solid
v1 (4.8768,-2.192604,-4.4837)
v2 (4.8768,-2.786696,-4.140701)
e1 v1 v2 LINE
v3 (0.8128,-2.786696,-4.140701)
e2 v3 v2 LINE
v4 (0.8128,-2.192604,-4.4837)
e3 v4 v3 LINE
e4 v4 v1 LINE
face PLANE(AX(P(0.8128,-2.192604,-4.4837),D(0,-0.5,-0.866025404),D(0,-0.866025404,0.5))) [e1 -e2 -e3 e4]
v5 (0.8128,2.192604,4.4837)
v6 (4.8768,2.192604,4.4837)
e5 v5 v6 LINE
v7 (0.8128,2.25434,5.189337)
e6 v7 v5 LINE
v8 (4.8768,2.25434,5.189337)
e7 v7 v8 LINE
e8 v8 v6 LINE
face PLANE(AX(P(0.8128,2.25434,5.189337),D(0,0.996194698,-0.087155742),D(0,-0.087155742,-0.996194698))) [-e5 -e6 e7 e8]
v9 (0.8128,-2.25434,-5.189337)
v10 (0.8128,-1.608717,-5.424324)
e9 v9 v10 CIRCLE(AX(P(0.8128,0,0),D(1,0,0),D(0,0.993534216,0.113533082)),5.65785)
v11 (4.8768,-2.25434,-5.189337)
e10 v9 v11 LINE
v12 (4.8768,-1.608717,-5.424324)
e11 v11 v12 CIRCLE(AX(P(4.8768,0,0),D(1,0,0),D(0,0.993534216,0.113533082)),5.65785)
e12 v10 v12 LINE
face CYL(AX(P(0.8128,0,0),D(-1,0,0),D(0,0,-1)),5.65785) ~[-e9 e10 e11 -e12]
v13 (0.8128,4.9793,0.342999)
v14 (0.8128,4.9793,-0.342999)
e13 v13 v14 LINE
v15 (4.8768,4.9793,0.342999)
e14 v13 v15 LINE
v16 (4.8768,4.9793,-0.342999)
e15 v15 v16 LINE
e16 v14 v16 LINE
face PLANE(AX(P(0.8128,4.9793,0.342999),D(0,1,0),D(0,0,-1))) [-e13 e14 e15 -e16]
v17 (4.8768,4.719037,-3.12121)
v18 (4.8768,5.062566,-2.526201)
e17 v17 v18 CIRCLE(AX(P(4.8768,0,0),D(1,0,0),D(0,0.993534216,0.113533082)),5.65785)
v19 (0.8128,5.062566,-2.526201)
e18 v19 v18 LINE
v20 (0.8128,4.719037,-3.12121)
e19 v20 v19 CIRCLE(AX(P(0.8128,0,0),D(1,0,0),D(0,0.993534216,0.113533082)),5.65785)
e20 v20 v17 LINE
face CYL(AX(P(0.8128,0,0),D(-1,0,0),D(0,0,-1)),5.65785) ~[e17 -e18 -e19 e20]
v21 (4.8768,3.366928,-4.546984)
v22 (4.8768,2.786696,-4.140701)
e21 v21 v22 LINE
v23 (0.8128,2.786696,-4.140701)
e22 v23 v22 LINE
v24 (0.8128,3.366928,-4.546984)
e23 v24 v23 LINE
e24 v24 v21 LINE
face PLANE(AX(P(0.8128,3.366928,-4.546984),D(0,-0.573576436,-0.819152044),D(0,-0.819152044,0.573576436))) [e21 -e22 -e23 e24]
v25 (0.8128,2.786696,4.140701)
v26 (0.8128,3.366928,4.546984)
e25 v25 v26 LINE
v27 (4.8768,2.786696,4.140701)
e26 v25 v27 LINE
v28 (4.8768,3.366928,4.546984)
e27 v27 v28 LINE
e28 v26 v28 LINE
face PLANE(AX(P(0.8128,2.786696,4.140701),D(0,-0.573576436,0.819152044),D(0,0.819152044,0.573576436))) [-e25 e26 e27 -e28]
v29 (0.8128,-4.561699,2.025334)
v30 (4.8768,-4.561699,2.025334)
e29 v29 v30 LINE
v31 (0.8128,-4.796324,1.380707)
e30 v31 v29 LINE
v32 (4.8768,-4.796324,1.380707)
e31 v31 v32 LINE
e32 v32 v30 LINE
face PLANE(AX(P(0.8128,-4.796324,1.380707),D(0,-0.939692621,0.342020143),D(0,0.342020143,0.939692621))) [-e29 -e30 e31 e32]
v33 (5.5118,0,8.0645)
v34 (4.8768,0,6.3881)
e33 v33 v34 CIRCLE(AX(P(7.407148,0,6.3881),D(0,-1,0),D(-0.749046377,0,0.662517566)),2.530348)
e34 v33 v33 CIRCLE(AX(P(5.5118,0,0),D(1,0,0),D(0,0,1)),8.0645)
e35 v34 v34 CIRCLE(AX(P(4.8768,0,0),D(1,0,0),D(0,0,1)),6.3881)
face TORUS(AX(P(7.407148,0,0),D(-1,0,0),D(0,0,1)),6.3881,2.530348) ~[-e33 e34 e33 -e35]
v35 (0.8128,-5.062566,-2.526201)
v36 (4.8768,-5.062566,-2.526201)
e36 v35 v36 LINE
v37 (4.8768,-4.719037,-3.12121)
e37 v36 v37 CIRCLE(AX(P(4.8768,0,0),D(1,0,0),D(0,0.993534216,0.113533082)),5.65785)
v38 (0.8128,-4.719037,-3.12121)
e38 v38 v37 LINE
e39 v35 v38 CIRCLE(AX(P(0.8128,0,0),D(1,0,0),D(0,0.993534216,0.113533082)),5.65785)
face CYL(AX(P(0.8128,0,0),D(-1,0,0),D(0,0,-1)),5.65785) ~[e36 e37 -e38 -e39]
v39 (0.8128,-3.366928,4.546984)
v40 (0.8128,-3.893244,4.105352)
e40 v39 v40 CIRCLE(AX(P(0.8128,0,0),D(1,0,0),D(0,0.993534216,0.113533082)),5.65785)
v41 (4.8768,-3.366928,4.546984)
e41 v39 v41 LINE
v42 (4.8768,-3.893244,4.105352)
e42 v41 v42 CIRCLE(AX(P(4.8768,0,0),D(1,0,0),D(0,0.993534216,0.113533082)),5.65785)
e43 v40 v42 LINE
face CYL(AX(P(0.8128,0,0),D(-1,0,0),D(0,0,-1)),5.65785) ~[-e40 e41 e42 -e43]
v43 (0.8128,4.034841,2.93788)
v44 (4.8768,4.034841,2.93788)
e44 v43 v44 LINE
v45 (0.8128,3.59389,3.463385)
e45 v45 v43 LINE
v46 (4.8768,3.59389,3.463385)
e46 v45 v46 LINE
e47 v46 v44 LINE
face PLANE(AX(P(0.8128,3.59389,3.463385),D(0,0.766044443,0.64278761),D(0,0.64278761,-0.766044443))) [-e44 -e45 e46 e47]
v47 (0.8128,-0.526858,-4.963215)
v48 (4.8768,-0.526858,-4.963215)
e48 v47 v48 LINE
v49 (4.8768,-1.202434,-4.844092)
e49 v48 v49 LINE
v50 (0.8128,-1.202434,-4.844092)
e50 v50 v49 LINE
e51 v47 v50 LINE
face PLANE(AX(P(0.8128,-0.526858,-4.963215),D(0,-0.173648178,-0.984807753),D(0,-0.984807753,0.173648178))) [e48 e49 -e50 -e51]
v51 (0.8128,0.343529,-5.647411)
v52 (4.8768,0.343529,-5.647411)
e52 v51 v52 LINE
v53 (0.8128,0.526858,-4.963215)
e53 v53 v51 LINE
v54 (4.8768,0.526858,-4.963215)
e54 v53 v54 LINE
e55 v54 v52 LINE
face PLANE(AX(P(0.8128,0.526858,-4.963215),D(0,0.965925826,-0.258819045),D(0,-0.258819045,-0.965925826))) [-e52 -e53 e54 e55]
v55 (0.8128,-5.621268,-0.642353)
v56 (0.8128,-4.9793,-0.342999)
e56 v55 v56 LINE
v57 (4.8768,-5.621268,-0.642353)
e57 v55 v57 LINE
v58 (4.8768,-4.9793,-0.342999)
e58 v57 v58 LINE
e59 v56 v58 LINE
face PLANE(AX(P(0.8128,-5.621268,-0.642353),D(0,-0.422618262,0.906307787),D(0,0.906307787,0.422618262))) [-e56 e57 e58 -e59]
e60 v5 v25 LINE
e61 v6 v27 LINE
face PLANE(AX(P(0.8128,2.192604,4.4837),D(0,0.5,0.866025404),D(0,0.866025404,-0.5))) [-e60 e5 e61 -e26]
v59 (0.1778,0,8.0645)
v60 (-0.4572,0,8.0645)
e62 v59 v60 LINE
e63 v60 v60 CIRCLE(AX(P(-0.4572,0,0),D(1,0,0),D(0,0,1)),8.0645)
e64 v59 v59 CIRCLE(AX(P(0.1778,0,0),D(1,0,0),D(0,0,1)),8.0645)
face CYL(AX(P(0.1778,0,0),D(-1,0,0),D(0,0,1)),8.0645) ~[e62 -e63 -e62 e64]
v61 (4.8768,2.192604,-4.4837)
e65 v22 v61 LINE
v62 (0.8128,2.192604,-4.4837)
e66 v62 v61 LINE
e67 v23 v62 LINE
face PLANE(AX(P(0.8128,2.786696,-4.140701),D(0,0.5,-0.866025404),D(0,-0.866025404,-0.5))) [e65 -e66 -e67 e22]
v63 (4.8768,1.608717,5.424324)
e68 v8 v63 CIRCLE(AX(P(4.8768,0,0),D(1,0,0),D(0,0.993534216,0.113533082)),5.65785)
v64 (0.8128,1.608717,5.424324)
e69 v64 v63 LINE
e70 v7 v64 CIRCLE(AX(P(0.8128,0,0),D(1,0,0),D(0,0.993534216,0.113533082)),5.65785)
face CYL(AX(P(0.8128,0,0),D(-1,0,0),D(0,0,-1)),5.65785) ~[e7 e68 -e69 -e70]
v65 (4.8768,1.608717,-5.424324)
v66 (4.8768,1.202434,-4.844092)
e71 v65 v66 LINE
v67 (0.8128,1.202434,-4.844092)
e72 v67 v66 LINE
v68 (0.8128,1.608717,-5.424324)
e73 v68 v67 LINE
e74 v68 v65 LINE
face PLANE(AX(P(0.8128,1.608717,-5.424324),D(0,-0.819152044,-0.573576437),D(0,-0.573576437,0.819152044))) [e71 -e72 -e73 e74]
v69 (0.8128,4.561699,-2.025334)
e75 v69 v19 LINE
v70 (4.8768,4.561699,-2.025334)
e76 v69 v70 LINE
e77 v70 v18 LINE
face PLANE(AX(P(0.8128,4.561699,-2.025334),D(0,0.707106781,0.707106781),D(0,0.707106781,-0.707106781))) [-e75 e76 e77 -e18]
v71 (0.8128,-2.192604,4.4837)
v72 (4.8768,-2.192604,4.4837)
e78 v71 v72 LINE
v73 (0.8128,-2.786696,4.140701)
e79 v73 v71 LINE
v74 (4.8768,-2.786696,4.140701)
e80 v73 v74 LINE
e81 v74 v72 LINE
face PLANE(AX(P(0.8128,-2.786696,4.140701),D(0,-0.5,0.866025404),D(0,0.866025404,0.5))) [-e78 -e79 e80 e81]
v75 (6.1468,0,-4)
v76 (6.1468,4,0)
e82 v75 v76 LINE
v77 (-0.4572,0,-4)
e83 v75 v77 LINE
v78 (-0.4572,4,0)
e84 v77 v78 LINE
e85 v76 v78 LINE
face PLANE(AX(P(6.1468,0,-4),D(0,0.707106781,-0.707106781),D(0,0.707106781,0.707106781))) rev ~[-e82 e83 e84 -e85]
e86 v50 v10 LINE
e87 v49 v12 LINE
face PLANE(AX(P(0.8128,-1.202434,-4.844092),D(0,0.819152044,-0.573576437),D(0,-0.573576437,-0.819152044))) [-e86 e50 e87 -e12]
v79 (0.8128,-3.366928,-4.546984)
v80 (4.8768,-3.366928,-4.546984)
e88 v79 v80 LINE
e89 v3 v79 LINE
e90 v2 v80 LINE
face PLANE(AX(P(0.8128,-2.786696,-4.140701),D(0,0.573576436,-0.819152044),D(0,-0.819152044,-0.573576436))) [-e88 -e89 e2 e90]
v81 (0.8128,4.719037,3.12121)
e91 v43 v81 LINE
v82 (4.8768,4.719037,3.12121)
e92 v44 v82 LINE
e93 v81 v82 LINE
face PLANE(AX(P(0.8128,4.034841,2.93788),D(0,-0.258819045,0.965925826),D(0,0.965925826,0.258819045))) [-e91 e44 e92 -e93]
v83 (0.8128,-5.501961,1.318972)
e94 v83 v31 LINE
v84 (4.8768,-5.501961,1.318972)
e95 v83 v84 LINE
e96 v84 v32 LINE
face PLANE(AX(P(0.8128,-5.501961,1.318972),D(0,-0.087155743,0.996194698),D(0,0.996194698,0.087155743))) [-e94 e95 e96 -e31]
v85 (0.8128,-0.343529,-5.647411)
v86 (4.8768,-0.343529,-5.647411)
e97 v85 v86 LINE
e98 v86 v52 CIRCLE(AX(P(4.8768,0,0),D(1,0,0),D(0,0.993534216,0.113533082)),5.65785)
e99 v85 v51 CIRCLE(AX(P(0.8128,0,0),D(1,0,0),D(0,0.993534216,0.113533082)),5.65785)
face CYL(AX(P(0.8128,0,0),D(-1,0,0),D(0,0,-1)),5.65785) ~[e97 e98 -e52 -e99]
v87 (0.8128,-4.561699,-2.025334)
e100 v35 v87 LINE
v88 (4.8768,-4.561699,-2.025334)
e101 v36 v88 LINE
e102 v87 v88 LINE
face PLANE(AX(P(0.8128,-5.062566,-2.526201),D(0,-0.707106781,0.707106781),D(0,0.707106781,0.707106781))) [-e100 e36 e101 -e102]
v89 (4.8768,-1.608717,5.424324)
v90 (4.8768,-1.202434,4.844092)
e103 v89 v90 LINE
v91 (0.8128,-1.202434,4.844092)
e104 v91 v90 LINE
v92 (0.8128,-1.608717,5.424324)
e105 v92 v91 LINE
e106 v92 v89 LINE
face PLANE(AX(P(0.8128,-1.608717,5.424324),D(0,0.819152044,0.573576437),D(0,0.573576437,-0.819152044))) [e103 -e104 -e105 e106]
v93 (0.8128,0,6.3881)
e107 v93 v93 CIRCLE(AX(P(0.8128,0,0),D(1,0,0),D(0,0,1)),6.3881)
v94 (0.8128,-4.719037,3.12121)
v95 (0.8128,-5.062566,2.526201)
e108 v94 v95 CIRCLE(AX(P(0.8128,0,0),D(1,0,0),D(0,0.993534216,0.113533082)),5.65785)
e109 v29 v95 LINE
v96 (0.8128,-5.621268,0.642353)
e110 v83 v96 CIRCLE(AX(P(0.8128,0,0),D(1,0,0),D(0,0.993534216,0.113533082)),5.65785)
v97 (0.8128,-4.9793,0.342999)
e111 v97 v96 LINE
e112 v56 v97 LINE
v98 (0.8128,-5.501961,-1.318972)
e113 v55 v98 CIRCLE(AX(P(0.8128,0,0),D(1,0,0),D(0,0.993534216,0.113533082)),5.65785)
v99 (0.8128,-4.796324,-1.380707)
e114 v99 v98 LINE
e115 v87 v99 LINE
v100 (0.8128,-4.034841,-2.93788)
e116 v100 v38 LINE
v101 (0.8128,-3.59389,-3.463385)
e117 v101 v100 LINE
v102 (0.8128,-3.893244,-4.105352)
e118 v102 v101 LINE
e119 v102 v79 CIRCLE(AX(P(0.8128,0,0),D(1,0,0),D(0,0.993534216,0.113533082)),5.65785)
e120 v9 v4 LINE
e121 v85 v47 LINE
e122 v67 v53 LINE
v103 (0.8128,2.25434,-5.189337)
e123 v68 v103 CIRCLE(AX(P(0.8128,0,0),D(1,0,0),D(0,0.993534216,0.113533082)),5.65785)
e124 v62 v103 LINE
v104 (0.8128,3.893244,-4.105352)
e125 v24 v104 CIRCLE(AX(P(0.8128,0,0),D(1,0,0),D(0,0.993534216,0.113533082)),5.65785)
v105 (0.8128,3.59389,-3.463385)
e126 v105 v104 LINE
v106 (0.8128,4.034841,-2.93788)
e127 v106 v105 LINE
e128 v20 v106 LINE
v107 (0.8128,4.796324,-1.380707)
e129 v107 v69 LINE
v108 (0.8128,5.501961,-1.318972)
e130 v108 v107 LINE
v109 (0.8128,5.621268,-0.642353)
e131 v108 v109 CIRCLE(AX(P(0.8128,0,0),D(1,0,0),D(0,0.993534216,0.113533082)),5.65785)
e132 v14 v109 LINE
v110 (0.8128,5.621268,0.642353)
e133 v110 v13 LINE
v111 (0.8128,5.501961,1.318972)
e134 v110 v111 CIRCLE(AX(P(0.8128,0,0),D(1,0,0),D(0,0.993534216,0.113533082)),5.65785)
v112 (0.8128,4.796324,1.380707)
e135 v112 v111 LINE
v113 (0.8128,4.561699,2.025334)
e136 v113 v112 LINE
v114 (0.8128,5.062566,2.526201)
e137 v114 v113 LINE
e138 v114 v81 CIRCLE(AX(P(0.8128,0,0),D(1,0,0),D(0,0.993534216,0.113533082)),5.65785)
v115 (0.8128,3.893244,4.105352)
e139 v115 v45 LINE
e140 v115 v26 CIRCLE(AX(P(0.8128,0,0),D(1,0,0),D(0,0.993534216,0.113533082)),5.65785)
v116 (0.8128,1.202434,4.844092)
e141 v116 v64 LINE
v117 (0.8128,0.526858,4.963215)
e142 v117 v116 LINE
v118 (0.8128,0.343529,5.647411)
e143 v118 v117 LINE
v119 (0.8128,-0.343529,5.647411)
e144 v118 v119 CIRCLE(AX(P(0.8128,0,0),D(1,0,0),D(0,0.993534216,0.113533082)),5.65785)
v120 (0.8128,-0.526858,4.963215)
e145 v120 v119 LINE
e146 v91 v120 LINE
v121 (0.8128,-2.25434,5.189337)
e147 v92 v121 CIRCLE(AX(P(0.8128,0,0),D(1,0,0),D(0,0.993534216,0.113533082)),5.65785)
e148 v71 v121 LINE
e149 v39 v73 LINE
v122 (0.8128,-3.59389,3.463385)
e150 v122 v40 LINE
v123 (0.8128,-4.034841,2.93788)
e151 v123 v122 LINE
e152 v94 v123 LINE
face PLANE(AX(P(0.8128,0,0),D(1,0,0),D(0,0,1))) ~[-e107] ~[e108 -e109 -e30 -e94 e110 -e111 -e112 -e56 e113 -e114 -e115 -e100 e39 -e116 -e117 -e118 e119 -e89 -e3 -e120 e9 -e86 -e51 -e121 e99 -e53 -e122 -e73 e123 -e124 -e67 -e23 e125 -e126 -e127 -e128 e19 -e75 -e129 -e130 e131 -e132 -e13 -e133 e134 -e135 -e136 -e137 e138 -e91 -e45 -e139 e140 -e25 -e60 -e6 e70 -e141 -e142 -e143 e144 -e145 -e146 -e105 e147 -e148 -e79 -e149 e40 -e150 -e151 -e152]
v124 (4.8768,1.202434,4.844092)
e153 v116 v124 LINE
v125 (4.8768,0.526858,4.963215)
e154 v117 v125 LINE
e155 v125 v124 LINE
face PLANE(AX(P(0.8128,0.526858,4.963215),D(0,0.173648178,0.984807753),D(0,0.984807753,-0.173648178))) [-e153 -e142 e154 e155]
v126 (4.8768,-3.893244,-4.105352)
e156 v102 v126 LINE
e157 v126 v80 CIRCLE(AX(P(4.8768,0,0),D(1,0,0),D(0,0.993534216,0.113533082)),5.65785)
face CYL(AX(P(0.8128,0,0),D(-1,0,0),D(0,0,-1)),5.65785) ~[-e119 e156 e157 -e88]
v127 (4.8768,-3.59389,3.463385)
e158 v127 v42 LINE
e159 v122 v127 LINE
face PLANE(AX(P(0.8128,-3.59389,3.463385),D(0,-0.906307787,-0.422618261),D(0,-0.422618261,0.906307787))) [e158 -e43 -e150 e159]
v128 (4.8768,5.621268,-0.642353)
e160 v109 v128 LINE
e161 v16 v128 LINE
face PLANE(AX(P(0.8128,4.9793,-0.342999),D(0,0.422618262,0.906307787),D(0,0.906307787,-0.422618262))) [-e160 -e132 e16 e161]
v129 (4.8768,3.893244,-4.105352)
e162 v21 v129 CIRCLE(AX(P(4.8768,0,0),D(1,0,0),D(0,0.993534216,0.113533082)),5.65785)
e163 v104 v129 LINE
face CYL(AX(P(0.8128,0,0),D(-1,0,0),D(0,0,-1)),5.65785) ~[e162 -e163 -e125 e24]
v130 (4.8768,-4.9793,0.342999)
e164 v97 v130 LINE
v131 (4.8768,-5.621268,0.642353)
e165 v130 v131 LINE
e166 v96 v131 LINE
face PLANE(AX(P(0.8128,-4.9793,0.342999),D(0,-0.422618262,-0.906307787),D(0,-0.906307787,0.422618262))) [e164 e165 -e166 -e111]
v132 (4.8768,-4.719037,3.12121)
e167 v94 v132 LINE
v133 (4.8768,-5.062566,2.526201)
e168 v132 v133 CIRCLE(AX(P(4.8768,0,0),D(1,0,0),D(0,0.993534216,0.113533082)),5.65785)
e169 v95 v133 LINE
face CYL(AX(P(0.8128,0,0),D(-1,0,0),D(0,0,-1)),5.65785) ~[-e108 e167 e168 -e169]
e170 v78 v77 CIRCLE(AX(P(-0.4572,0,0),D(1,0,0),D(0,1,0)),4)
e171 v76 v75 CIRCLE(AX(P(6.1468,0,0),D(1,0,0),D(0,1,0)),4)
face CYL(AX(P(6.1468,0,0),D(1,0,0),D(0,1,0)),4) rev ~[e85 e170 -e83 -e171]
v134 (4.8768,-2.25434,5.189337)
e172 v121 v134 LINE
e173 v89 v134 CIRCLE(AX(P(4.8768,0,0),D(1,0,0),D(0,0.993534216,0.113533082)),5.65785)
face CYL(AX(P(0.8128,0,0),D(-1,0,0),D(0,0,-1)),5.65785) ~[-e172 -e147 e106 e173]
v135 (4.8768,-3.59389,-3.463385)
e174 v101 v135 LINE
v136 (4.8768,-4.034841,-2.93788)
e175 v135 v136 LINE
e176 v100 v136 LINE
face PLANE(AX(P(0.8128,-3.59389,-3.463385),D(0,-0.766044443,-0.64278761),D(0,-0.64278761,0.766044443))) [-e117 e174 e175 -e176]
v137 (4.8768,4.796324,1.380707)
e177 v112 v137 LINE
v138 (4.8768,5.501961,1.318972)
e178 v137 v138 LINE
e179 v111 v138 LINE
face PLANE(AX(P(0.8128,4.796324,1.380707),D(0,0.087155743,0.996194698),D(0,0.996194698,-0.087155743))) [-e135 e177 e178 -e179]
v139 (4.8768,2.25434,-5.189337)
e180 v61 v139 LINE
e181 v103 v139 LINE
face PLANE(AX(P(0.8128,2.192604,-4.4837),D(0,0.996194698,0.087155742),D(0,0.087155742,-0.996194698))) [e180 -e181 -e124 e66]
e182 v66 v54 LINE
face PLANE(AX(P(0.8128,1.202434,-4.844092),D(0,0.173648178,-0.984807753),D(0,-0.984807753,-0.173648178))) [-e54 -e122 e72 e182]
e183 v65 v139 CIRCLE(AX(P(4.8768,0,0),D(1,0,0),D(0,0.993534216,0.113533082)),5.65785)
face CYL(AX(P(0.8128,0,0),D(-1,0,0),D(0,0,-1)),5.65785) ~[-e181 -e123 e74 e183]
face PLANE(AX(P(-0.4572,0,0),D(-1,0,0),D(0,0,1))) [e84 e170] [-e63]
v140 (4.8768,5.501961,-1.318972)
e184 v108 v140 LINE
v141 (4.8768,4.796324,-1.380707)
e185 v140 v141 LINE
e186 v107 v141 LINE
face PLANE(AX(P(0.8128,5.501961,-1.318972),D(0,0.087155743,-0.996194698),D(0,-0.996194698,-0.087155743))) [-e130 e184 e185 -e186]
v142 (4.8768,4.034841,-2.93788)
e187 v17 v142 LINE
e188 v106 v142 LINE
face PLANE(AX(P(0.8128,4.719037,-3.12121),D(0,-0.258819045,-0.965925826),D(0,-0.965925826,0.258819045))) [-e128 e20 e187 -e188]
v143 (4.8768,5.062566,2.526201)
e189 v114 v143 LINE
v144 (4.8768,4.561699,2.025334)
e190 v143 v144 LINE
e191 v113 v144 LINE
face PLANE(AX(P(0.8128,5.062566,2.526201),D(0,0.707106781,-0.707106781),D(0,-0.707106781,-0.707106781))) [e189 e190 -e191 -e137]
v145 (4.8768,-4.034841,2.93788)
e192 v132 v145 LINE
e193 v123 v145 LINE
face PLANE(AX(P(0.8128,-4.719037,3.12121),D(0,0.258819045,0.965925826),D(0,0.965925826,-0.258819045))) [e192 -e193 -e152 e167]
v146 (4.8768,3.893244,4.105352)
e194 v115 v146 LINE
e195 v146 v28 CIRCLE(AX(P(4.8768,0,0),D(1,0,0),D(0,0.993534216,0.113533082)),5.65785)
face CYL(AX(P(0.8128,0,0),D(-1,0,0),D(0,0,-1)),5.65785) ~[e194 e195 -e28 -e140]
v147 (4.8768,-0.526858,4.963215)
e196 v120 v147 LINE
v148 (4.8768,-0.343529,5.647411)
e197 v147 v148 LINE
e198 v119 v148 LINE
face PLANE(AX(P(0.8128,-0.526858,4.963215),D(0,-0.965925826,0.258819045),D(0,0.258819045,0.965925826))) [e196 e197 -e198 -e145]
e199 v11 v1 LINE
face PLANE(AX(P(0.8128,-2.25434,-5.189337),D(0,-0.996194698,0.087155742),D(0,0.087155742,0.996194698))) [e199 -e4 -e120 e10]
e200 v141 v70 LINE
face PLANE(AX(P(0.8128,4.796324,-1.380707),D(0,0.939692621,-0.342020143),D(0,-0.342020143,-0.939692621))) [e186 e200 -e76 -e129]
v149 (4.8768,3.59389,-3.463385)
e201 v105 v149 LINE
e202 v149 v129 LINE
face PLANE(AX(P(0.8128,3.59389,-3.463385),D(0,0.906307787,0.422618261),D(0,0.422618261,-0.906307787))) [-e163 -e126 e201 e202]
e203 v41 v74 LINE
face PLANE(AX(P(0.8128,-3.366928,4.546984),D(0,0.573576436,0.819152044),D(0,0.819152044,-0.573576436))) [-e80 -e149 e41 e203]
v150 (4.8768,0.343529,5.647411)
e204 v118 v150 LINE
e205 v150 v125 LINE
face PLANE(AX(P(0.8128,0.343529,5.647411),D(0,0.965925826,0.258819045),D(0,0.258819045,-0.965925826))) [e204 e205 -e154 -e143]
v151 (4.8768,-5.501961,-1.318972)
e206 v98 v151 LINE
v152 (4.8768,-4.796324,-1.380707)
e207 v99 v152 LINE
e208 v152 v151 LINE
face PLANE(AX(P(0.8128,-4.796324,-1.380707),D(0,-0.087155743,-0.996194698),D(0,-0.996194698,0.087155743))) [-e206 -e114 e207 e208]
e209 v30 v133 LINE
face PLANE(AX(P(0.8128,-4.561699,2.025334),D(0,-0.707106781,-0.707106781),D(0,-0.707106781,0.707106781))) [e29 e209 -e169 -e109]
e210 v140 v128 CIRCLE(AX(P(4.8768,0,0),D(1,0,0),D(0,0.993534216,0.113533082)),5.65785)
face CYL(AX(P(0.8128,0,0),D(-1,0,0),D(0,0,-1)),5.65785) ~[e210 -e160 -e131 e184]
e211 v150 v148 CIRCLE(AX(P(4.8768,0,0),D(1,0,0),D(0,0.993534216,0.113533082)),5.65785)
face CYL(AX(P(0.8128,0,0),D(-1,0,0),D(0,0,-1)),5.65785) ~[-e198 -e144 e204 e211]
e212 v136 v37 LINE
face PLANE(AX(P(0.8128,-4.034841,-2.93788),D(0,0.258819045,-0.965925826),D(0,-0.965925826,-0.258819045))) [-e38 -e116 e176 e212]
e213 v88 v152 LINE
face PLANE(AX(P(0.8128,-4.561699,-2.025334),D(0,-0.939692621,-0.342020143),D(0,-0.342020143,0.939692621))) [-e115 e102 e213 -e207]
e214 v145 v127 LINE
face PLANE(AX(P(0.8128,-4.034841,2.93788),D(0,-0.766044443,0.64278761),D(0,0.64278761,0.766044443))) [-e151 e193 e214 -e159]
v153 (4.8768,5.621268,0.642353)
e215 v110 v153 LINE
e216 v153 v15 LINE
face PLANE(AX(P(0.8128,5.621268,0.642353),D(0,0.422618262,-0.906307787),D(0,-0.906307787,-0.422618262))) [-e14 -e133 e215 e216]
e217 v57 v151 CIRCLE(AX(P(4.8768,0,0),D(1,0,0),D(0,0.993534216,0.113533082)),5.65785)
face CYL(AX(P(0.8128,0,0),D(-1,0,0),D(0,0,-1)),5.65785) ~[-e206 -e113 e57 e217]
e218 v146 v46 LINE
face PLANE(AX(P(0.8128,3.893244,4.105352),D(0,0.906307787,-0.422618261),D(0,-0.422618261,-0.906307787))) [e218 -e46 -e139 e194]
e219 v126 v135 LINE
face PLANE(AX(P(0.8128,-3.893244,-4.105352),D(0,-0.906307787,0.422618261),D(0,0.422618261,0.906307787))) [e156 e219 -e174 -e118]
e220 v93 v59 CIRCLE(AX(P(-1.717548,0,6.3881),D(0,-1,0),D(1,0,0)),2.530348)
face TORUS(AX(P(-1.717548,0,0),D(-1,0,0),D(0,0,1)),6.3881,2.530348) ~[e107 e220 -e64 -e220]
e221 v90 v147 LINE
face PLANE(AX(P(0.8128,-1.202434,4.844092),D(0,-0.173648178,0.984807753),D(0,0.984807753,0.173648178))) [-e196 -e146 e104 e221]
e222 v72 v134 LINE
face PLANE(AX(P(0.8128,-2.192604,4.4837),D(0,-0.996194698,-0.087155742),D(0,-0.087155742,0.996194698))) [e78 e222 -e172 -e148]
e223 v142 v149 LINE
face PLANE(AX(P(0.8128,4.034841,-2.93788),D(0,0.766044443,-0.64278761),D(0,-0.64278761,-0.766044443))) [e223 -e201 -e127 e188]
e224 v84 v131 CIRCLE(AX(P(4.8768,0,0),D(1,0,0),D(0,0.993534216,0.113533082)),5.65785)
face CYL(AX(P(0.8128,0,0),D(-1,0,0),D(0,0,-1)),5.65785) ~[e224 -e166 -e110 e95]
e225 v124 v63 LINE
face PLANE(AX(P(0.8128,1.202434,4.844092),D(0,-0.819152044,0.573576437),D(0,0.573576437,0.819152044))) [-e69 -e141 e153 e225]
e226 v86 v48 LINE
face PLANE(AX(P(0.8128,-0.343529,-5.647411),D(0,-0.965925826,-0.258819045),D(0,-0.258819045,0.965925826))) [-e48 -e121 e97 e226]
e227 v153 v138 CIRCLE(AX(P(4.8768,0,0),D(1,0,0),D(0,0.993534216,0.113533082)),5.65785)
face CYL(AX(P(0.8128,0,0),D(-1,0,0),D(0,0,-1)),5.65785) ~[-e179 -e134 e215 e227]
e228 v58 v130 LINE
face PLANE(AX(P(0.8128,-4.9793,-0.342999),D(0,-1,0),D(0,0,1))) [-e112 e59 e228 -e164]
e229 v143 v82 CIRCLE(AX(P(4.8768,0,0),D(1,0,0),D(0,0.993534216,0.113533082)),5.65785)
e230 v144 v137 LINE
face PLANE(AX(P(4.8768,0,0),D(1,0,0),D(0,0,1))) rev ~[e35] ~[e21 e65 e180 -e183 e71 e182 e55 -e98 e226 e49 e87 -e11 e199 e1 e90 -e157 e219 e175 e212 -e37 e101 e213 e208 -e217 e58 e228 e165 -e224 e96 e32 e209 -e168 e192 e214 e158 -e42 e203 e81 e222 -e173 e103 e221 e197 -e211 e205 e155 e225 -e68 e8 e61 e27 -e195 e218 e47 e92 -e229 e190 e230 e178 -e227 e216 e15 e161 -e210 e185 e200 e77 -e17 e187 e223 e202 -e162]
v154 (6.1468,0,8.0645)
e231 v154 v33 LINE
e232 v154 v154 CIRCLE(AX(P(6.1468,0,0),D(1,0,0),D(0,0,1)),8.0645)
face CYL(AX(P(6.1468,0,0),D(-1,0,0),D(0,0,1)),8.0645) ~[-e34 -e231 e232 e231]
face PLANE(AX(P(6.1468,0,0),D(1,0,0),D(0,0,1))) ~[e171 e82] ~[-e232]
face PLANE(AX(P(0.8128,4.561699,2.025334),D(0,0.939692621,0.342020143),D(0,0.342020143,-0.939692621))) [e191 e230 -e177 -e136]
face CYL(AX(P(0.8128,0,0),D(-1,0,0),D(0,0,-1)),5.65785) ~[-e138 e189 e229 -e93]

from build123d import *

# Parameters (mm, degrees)
SKETCH4_R          = 5.8166
SKETCH4_R_2        = 5.65785
CUT_EXTRUDE2_DEPTH = 4.064
CUT_EXTRUDE1_DEPTH = 4.064
CIRPATTERN1_COUNT  = 18
SKETCH6_R          = 1.4605
CUT_EXTRUDE3_DEPTH = 13.95590486
CIRPATTERN2_COUNT  = 2
CIRPATTERN2_ANGLE  = 90
CUT_EXTRUDE5_REACH = 15.179
SKETCH9_R          = 8.0645
CUT_EXTRUDE6_REACH = 15.179
SKETCH10_R         = 2.38125


with BuildPart() as part:
    # Sketch1 → Revolve1 (revolve)
    with BuildSketch(Plane.XY, mode=Mode.PRIVATE) as revolve1_sk:
        with BuildLine():
            Line((-6.1468, 2.38125), (6.1468, 2.38125))
            Line((6.1468, 2.38125), (6.1468, 8.0645))
            Line((6.1468, 8.0645), (5.5118, 8.0645))
            ThreePointArc((5.5118, 8.0645), (5.040869168, 7.284417739), (4.8768, 6.3881))
            Line((4.8768, 6.3881), (4.8768, 5.8166))
            Line((4.8768, 5.8166), (0.8128, 5.8166))
            Line((0.8128, 5.8166), (0.8128, 6.3881))
            ThreePointArc((0.8128, 6.3881), (0.648730832, 7.284417739), (0.1778, 8.0645))
            Line((0.1778, 8.0645), (-0.4572, 8.0645))
            Line((-0.4572, 8.0645), (-0.4572, 3.9624))
            Line((-0.4572, 3.9624), (-6.1468, 3.9624))
            Line((-6.1468, 3.9624), (-6.1468, 2.38125))
        make_face()
    revolve(revolve1_sk.sketch.rotate(Axis((-6.1468, 0, 0), (1, 0, 0)), 90), axis=Axis((-6.1468, 0, 0), (1, 0, 0)))

    # Sketch4 → Cut-Extrude2 (cut)
    with BuildSketch(Plane(origin=(0.8128, 0, 0), x_dir=(0, 0, -1), z_dir=(1, 0, 0))):
        Circle(SKETCH4_R)
        Circle(SKETCH4_R_2, mode=Mode.SUBTRACT)
    extrude(amount=CUT_EXTRUDE2_DEPTH, mode=Mode.SUBTRACT)

    # Sketch3 → Cut-Extrude1 (cut)
    with BuildSketch(Plane(origin=(0.8128, 0, 0), x_dir=(0, 0, -1), z_dir=(1, 0, 0))):
        with BuildLine():
            Line((-0.64235315, 5.621267566), (-0.342998874, 4.97930025))
            Line((-0.342998874, 4.97930025), (0.342998874, 4.97930025))
            Line((0.342998874, 4.97930025), (0.64235315, 5.621267566))
            ThreePointArc((0.64235315, 5.621267566), (0, 5.65785), (-0.64235315, 5.621267566))
        make_face()
    cut_extrude1 = extrude(amount=CUT_EXTRUDE1_DEPTH, mode=Mode.SUBTRACT)

    # CirPattern1: Cut-Extrude1 ×18 about axis
    cirpattern1_axis = Axis((0, 0, 0), (1, 0, 0))
    for i in range(1, CIRPATTERN1_COUNT):
        add(cut_extrude1.rotate(cirpattern1_axis, i * 360 / CIRPATTERN1_COUNT), mode=Mode.SUBTRACT)

    # Sketch6 → Cut-Extrude3 (cut, through all)
    with BuildSketch(Plane(origin=(0, 0, 0), x_dir=(1, 0, 0), z_dir=(0, 1, 0))):
        with Locations(Location((-3.302, 0, 0), (0, 0, 90))):
            Circle(SKETCH6_R)
    cut_extrude3 = extrude(amount=CUT_EXTRUDE3_DEPTH, mode=Mode.SUBTRACT)

    # CirPattern2: Cut-Extrude3 ×2 about axis
    cirpattern2_axis = Axis((-6.1468, 0, 0), (1, 0, 0))
    for i in range(1, CIRPATTERN2_COUNT):
        add(cut_extrude3.rotate(cirpattern2_axis, i * CIRPATTERN2_ANGLE / (CIRPATTERN2_COUNT - 1)), mode=Mode.SUBTRACT)

    # Sketch9 → Cut-Extrude5 (cut, up to next)
    with BuildSketch(Plane.ZY.offset(0.4572), mode=Mode.PRIVATE) as cut_extrude5_sk1:
        Circle(SKETCH9_R)
    cut_extrude5_tool1 = extrude(cut_extrude5_sk1.sketch, amount=CUT_EXTRUDE5_REACH, mode=Mode.PRIVATE) & part.part
    add(cut_extrude5_tool1.solids().sort_by_distance((-0.4572, 0, 0))[0], mode=Mode.SUBTRACT)

    # Sketch10 → Cut-Extrude6 (cut, up to next)
    with BuildSketch(Plane(origin=(6.1468, 0, 0), x_dir=(0, 0, -1), z_dir=(1, 0, 0)), mode=Mode.PRIVATE) as cut_extrude6_sk1:
        with BuildLine():
            Line((4, 0), (0, 4))
            ThreePointArc((0, 4), (-2.828427125, -2.828427125), (4, 0))
        make_face()
        Circle(SKETCH10_R, mode=Mode.SUBTRACT)
    cut_extrude6_tool1 = extrude(cut_extrude6_sk1.sketch, amount=-CUT_EXTRUDE6_REACH, mode=Mode.PRIVATE) & part.part
    add(cut_extrude6_tool1.solids().sort_by_distance((6.1468, 1.92, -1.92))[0], mode=Mode.SUBTRACT)


solid = part.part
